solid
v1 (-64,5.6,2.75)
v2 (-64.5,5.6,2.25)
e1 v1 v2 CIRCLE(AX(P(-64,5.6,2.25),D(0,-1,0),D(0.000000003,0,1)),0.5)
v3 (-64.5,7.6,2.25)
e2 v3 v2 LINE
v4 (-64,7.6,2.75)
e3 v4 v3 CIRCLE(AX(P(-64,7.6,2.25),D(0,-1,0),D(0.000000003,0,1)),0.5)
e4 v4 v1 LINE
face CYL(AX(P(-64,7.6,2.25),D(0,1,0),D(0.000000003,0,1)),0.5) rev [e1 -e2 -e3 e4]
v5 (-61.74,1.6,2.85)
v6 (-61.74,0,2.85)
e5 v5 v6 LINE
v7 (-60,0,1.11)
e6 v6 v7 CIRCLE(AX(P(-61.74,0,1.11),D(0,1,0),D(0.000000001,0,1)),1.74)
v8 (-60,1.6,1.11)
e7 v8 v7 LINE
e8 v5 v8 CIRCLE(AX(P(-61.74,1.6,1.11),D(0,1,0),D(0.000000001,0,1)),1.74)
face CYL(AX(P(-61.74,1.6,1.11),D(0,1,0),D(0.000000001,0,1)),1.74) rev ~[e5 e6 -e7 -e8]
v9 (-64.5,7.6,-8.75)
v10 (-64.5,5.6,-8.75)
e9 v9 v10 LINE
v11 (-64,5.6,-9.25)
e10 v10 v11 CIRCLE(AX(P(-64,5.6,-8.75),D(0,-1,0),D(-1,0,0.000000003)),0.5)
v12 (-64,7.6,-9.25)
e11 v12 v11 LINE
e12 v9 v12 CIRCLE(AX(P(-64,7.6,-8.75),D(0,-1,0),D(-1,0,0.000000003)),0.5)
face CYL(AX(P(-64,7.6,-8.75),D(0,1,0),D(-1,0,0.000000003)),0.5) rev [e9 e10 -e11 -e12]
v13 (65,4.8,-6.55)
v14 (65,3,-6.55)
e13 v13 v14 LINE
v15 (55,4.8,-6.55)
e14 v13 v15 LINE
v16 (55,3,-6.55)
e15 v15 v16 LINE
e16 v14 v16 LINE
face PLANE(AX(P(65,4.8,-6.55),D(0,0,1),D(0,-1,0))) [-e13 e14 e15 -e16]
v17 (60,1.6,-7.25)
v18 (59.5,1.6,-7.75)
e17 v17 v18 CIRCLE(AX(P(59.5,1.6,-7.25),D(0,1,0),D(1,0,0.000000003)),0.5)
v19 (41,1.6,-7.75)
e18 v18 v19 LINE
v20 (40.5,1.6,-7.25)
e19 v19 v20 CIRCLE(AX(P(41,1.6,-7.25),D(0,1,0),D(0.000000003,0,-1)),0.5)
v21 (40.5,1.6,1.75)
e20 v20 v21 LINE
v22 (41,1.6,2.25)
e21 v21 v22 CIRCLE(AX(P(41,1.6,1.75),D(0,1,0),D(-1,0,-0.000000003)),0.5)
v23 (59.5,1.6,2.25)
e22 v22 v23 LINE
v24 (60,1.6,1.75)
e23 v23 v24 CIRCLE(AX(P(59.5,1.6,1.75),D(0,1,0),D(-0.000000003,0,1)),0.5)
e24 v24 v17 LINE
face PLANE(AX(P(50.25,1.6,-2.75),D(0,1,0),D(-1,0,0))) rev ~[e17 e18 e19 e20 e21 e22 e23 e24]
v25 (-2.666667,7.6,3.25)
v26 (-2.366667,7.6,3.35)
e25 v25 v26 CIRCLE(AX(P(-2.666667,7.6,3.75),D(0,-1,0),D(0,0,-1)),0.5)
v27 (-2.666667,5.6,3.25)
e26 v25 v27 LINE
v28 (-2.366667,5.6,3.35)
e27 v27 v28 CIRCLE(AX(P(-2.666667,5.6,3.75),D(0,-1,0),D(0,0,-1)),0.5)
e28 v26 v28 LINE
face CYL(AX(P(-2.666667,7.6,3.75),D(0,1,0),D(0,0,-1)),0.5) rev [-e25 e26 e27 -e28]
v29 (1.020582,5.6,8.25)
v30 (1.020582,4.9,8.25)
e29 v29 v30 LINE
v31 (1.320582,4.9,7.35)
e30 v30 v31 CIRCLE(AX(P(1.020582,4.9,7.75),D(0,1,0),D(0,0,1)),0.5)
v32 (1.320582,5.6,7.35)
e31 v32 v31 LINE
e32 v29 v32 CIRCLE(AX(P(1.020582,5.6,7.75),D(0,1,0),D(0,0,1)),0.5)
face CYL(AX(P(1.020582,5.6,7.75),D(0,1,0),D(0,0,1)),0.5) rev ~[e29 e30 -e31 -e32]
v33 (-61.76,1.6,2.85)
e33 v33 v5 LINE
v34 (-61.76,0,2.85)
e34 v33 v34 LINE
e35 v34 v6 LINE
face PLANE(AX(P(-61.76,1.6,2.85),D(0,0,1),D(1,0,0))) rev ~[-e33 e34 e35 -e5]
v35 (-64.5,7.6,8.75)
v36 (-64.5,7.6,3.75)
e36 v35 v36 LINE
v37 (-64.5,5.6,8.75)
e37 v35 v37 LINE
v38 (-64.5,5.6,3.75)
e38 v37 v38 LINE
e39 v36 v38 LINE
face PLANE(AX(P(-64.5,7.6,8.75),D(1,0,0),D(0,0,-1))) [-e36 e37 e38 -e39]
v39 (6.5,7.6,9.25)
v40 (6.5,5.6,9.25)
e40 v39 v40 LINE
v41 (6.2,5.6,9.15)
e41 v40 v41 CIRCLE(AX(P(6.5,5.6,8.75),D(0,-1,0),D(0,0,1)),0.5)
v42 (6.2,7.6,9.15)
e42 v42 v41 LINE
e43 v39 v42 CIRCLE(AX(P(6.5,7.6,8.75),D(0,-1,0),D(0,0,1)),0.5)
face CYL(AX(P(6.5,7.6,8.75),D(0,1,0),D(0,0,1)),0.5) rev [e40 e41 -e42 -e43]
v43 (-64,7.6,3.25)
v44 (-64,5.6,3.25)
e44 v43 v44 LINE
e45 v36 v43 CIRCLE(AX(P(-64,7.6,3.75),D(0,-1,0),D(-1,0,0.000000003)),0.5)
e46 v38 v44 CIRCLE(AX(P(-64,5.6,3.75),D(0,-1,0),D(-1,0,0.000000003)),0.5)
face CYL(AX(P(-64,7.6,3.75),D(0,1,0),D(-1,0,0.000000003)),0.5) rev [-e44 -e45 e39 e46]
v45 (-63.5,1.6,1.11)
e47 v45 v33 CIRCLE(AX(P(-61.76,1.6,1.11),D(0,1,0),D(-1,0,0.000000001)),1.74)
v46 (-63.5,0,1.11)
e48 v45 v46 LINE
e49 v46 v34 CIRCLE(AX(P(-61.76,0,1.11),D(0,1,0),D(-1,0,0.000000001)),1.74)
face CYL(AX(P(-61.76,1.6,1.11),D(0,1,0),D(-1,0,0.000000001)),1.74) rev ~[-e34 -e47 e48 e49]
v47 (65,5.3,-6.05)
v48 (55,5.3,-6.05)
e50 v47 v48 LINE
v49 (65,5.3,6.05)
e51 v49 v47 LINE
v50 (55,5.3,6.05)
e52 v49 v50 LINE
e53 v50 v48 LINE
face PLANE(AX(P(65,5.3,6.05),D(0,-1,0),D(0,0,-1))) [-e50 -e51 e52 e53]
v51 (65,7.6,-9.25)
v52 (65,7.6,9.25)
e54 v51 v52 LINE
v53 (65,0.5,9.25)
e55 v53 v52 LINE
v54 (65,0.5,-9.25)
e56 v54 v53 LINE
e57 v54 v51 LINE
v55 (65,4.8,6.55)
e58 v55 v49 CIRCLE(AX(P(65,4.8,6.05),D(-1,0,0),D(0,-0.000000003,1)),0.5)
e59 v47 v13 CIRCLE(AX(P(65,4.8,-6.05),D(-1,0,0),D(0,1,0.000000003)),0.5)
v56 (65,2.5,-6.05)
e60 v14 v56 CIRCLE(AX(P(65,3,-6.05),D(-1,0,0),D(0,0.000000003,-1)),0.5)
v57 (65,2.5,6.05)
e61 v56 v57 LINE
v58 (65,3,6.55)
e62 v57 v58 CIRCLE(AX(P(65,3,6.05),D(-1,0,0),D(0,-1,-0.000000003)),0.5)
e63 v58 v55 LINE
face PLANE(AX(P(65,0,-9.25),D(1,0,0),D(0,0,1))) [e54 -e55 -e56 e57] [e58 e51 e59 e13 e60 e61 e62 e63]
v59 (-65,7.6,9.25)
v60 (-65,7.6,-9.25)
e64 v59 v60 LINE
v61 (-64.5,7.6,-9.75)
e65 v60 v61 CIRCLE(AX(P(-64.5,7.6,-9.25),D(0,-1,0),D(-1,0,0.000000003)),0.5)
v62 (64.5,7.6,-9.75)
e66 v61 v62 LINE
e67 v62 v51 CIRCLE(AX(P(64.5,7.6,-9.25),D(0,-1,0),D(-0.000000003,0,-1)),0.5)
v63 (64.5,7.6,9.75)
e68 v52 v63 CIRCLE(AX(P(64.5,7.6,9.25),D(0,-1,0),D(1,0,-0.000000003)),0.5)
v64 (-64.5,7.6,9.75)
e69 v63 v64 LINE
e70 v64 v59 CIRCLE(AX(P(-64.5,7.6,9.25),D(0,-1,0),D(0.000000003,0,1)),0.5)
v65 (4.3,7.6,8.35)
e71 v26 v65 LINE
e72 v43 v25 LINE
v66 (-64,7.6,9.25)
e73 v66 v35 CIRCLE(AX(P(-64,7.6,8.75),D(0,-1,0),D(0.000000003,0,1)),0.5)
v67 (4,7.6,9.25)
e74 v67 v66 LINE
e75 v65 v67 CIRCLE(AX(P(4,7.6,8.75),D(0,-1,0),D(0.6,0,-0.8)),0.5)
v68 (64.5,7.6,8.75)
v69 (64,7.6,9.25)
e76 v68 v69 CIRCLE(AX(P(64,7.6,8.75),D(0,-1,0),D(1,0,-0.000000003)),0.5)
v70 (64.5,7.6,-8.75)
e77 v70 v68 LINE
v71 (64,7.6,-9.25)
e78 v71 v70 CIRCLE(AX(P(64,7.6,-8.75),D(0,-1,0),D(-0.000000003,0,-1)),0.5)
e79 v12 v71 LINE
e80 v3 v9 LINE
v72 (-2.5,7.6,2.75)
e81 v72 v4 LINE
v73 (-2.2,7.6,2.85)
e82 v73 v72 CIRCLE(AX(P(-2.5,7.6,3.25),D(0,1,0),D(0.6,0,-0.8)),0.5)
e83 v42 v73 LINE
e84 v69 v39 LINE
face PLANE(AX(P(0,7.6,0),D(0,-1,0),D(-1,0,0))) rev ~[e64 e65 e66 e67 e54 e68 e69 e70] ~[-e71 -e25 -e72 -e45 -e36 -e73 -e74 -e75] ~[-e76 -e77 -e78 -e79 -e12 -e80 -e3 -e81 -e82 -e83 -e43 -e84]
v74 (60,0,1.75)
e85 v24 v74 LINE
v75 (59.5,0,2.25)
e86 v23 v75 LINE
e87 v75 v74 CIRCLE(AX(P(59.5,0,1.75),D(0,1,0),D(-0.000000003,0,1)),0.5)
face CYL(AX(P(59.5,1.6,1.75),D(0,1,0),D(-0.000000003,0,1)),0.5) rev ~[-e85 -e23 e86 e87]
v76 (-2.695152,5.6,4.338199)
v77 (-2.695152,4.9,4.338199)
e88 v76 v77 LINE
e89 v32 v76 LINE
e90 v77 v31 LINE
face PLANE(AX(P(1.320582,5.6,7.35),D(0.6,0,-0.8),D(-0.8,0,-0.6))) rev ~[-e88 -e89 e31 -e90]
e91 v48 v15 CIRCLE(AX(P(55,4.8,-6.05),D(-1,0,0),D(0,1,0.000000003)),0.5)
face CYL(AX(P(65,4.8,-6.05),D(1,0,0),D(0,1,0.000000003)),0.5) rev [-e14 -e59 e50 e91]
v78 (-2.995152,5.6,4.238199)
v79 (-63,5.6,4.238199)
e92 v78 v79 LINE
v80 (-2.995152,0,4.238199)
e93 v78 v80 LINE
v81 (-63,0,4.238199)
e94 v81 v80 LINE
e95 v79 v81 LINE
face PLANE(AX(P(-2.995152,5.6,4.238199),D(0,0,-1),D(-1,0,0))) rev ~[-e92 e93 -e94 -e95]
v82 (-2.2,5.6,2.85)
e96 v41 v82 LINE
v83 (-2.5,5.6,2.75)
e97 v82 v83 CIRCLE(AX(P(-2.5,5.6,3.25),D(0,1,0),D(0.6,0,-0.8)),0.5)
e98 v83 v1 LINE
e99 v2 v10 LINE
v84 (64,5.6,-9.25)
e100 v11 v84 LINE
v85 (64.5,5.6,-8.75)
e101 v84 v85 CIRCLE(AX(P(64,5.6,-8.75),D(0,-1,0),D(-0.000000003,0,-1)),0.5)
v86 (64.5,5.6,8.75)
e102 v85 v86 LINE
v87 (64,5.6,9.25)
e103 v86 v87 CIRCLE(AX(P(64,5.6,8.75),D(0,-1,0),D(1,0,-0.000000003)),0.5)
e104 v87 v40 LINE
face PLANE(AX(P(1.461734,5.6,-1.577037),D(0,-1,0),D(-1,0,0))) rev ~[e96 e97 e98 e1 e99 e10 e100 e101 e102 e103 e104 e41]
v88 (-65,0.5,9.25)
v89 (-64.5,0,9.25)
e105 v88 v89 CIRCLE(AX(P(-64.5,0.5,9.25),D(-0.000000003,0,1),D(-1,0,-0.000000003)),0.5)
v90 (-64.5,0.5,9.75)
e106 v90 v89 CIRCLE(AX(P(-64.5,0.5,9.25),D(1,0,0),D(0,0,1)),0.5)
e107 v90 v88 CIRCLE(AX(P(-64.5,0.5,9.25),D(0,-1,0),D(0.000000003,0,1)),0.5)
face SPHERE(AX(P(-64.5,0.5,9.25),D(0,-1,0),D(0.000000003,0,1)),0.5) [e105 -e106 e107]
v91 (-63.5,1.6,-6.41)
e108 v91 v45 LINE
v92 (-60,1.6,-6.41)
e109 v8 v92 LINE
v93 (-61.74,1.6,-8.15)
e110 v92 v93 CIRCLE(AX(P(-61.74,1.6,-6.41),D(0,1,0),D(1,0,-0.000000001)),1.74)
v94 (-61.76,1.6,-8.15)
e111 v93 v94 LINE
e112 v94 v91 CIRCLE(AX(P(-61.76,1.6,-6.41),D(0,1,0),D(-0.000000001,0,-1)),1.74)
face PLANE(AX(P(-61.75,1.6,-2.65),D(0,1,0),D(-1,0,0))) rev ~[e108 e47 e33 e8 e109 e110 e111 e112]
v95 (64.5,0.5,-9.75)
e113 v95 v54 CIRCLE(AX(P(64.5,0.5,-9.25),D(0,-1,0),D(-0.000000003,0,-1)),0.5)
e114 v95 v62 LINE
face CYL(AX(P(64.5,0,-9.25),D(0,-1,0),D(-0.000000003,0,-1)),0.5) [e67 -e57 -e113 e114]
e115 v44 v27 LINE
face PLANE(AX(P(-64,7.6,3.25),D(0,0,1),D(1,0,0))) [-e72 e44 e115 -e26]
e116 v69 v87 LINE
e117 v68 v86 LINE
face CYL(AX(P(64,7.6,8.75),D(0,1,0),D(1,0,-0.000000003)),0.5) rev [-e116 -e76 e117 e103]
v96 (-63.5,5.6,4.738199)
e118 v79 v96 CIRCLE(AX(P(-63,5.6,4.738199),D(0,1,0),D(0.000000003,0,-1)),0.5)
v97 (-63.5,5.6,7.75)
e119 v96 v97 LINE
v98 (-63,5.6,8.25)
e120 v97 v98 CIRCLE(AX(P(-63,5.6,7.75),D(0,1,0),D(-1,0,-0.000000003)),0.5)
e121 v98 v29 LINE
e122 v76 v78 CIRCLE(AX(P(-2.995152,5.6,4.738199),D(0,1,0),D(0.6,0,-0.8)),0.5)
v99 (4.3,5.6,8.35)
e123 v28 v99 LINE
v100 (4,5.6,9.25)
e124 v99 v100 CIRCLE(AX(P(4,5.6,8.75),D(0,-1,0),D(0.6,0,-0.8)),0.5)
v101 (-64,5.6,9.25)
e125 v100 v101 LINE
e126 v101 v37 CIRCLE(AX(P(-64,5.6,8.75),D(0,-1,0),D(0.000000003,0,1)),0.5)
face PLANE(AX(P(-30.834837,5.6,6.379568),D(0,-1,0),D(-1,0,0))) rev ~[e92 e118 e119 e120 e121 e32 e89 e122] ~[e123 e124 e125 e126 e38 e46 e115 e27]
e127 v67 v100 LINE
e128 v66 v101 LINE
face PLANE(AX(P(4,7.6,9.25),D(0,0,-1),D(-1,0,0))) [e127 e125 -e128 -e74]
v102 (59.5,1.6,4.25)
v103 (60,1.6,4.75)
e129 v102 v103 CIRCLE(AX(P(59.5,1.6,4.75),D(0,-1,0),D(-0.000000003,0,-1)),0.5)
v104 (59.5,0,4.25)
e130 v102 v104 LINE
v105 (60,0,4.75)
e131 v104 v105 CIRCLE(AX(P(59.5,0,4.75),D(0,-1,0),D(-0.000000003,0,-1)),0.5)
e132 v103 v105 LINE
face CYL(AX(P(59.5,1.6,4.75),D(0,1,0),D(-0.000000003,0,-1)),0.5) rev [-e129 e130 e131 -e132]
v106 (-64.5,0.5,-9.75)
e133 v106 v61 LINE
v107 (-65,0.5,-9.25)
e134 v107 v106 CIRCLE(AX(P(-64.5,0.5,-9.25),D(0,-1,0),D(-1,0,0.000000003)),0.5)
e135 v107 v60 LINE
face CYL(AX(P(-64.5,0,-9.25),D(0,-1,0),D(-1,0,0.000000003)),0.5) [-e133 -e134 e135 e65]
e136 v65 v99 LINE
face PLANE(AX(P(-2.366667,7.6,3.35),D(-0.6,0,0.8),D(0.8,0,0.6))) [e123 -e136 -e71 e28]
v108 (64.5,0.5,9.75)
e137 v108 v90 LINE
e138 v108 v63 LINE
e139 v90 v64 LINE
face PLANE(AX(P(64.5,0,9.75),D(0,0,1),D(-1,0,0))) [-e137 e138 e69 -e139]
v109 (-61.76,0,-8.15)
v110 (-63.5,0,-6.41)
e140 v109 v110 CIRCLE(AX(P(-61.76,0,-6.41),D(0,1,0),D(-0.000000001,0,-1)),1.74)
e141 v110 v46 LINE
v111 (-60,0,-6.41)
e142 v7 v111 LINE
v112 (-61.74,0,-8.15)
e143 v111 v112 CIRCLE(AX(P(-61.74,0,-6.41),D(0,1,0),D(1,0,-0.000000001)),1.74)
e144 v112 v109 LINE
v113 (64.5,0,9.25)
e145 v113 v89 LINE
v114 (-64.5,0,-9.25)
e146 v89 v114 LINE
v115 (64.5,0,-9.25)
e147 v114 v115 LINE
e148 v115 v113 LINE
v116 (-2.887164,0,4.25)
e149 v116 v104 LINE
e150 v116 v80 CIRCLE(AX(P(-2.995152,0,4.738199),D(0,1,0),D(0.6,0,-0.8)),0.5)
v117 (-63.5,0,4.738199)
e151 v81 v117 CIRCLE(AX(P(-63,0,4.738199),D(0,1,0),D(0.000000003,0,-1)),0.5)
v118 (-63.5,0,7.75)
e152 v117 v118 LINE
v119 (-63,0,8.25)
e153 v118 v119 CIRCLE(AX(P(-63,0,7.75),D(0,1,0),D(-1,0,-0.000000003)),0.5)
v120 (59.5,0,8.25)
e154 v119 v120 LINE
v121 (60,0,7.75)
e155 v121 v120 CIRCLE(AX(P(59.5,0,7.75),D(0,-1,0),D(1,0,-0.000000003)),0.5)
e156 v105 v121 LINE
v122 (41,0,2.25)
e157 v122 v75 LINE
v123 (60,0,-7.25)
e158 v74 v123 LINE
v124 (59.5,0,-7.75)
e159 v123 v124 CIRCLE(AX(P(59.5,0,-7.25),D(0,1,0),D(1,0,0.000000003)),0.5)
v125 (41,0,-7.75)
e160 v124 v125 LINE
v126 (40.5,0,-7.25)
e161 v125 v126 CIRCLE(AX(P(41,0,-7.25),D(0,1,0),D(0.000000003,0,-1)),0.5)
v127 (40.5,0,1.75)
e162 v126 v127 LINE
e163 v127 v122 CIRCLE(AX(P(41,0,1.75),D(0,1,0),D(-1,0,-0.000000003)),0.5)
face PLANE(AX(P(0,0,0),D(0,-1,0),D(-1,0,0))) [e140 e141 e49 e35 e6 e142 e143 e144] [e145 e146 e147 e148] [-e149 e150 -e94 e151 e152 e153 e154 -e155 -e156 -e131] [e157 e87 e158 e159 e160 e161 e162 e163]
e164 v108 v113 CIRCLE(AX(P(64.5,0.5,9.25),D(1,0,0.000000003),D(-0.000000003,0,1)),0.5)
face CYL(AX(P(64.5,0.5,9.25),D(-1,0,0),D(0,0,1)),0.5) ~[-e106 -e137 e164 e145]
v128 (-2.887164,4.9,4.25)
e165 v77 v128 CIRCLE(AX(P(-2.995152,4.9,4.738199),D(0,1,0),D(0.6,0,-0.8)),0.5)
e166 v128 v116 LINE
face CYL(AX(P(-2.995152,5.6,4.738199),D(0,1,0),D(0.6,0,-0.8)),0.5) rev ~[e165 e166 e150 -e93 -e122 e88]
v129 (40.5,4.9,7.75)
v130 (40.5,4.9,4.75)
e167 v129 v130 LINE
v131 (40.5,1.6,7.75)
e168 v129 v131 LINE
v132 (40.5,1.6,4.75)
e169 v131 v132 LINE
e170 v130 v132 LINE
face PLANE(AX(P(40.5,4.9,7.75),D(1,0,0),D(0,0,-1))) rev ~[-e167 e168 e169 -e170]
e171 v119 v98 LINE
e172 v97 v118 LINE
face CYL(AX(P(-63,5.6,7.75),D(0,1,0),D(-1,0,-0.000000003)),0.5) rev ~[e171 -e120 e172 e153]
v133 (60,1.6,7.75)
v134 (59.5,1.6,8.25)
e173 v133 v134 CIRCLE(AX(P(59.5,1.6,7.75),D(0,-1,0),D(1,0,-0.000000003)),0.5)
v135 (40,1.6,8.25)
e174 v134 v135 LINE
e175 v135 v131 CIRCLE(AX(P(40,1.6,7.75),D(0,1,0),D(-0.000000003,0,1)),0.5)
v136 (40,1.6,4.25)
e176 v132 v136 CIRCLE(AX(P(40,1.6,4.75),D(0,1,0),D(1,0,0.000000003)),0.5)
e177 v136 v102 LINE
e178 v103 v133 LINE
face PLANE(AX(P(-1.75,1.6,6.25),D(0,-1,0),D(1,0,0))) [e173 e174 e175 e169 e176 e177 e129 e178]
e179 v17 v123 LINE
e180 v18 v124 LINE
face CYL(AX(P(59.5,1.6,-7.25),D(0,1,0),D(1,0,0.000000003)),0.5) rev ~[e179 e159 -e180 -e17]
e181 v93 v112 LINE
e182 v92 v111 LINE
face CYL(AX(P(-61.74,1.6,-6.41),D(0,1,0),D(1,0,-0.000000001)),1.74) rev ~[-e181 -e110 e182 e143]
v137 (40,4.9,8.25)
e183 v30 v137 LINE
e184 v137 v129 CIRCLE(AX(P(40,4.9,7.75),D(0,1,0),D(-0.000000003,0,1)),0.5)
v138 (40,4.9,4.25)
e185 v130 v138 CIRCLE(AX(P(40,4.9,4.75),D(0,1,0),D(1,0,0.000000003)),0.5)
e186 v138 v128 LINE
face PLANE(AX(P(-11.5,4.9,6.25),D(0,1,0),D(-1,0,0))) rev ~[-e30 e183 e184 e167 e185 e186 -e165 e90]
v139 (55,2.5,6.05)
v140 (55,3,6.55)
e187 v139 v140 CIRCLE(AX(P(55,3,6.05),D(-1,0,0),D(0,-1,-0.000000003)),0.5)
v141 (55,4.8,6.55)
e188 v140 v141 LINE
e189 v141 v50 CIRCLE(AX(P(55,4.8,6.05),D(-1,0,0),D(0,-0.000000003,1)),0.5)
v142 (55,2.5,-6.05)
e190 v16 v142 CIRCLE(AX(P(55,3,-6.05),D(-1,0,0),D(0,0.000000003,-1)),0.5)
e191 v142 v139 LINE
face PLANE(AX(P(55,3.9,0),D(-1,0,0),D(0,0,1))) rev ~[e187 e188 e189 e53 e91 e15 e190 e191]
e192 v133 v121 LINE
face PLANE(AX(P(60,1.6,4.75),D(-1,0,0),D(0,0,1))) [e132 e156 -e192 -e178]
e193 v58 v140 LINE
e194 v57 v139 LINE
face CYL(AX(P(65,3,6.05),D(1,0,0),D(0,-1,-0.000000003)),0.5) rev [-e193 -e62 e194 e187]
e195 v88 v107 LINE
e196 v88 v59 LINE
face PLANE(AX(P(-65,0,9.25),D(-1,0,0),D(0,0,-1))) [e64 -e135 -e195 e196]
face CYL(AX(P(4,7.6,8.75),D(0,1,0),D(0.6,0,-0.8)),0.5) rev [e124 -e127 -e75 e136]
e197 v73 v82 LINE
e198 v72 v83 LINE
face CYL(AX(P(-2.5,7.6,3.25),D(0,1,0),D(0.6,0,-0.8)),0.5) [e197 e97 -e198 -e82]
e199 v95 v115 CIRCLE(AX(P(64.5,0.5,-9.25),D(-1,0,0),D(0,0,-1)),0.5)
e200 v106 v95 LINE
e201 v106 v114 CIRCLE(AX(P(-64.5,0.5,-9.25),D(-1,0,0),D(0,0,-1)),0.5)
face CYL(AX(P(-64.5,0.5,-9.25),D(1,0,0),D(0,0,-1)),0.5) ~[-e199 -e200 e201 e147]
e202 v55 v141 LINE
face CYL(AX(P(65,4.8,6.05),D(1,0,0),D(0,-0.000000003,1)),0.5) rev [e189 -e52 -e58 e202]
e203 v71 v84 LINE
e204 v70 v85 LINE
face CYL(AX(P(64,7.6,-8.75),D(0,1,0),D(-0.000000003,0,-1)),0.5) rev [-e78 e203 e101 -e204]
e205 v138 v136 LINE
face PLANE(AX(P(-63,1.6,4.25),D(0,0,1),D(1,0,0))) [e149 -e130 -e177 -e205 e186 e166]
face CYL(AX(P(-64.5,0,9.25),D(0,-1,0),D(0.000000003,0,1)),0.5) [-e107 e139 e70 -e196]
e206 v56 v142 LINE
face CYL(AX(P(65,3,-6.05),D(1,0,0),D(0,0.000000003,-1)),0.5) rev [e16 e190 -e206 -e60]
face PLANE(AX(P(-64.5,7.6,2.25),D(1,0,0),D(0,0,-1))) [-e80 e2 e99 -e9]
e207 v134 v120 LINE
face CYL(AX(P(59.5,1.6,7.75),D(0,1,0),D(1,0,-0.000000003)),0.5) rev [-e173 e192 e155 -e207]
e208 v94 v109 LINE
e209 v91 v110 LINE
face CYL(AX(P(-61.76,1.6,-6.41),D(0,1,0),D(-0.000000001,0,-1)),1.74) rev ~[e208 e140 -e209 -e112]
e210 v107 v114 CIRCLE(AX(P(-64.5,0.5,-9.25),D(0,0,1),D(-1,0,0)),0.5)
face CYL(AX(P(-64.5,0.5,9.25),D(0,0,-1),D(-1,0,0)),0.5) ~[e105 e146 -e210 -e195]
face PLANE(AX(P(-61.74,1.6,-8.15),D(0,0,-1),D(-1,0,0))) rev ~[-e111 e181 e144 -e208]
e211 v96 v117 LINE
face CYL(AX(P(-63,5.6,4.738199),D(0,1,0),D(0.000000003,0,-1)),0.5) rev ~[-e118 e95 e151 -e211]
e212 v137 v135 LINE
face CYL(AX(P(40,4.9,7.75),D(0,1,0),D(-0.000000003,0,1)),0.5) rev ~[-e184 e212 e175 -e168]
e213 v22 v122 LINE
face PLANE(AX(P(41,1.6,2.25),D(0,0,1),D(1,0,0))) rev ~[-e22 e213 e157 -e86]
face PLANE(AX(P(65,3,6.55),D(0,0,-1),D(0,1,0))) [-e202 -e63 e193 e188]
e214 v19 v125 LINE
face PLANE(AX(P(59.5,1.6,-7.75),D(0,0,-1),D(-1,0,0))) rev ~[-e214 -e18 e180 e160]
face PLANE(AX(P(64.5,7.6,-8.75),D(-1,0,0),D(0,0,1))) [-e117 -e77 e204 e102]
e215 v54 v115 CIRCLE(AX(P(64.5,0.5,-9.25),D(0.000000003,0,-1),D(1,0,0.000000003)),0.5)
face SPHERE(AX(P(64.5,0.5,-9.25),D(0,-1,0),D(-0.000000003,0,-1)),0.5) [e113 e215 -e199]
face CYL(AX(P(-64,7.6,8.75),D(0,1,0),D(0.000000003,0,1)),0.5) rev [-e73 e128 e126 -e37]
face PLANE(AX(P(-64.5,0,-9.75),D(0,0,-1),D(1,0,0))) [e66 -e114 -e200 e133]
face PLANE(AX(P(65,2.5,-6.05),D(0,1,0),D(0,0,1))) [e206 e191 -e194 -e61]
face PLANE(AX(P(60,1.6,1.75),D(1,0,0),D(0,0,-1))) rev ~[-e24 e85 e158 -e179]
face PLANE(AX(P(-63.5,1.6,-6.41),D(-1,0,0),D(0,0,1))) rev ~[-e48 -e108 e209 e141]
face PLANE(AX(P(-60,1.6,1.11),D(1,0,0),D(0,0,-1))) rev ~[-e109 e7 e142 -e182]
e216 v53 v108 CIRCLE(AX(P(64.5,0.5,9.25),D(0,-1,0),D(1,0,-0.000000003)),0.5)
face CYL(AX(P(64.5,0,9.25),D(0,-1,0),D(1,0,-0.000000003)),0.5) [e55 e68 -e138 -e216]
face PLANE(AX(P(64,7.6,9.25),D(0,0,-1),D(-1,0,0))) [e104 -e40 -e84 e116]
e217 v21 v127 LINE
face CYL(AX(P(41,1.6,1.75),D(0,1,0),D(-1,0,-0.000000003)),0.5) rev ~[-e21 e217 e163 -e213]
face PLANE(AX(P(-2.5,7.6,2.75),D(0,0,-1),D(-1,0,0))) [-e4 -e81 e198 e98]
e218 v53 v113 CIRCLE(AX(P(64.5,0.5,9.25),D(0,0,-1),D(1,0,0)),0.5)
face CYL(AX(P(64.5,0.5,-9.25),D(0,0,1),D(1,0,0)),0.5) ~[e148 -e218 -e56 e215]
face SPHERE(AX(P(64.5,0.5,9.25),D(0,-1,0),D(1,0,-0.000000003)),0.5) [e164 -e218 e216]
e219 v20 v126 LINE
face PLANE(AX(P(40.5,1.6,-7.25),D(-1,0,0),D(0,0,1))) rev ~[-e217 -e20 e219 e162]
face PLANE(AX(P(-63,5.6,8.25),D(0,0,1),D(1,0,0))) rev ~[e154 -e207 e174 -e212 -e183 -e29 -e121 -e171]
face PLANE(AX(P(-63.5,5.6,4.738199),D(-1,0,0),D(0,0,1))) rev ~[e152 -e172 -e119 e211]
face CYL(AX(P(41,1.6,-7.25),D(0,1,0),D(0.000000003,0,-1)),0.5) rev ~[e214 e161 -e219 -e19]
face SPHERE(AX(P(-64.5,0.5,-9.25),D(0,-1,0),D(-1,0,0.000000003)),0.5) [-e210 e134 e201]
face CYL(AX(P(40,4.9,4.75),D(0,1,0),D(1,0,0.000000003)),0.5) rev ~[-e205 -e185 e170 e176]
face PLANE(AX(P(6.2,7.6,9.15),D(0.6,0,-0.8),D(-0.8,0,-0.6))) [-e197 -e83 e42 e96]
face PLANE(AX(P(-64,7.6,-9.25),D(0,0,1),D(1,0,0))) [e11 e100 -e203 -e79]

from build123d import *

# Parameters (mm, degrees)
EXTRUDE_1_DEPTH     = 7.6
CUT_EXTRUDE_1_DEPTH = 2
CUT_EXTRUDE_2_DEPTH = 66.965312855
CUT_EXTRUDE_START   = -1.6
CUT_EXTRUDE_3_DEPTH = 1.6
CUT_EXTRUDE_START_2 = -3.3
CUT_EXTRUDE_4_DEPTH = 3.3
CUT_EXTRUDE_5_DEPTH = 10
FILLET_1_R          = 0.5


with BuildPart() as part:
    # Эскиз1 → Бобышка-Вытянуть1 (new body)
    with BuildSketch(Plane(origin=(0, 0, 0), x_dir=(1, 0, 0), z_dir=(0, 1, 0))):
        with BuildLine():
            Line((-64.5, 9.75), (64.5, 9.75))
            ThreePointArc((64.5, 9.75), (64.853553391, 9.603553391), (65, 9.25))
            Line((65, 9.25), (65, -9.25))
            ThreePointArc((65, -9.25), (64.853553391, -9.603553391), (64.5, -9.75))
            Line((64.5, -9.75), (-64.5, -9.75))
            ThreePointArc((-64.5, -9.75), (-64.853553391, -9.603553391), (-65, -9.25))
            Line((-65, -9.25), (-65, 9.25))
            ThreePointArc((-65, 9.25), (-64.853553391, 9.603553391), (-64.5, 9.75))
        make_face()
    extrude(amount=EXTRUDE_1_DEPTH)

    # Эскиз2 → Вырез-Вытянуть1 (cut)
    with BuildSketch(Plane(origin=(0, 7.6, 0), x_dir=(1, 0, 0), z_dir=(0, 1, 0))):
        with BuildLine():
            Line((-64, -3.25), (-2.666666667, -3.25))
            ThreePointArc((-2.666666667, -3.25), (-2.508552784, -3.275658351), (-2.366666667, -3.35))
            Line((-2.366666667, -3.35), (4.3, -8.35))
            ThreePointArc((4.3, -8.35), (4.474341649, -8.908113883), (4, -9.25))
            Line((4, -9.25), (-64, -9.25))
            ThreePointArc((-64, -9.25), (-64.353553391, -9.103553391), (-64.5, -8.75))
            Line((-64.5, -8.75), (-64.5, -3.75))
            ThreePointArc((-64.5, -3.75), (-64.353553391, -3.396446609), (-64, -3.25))
        make_face()
        with BuildLine():
            Line((-64, 9.25), (64, 9.25))
            ThreePointArc((64, 9.25), (64.353553391, 9.103553391), (64.5, 8.75))
            Line((64.5, 8.75), (64.5, -8.75))
            ThreePointArc((64.5, -8.75), (64.353553391, -9.103553391), (64, -9.25))
            Line((64, -9.25), (6.5, -9.25))
            ThreePointArc((6.5, -9.25), (6.341886117, -9.224341649), (6.2, -9.15))
            Line((6.2, -9.15), (-2.2, -2.85))
            ThreePointArc((-2.2, -2.85), (-2.341886117, -2.775658351), (-2.5, -2.75))
            Line((-2.5, -2.75), (-64, -2.75))
            ThreePointArc((-64, -2.75), (-64.353553391, -2.603553391), (-64.5, -2.25))
            Line((-64.5, -2.25), (-64.5, 8.75))
            ThreePointArc((-64.5, 8.75), (-64.353553391, 9.103553391), (-64, 9.25))
        make_face()
    extrude(amount=-CUT_EXTRUDE_1_DEPTH, mode=Mode.SUBTRACT)

    # Эскиз6 → Вырез-Вытянуть2 (cut, through all)
    with BuildSketch(Plane(origin=(0, 5.6, 0), x_dir=(1, 0, 0), z_dir=(0, 1, 0))):
        with BuildLine():
            Line((-63, -8.25), (1.020582083, -8.25))
            ThreePointArc((1.020582083, -8.25), (1.494923732, -7.908113883), (1.320582083, -7.35))
            Line((1.320582083, -7.35), (-2.695152274, -4.338199232))
            ThreePointArc((-2.695152274, -4.338199232), (-2.837038391, -4.263857583), (-2.995152274, -4.238199232))
            Line((-2.995152274, -4.238199232), (-63, -4.238199232))
            ThreePointArc((-63, -4.238199232), (-63.353553391, -4.384645841), (-63.5, -4.738199232))
            Line((-63.5, -4.738199232), (-63.5, -7.75))
            ThreePointArc((-63.5, -7.75), (-63.353553391, -8.103553391), (-63, -8.25))
        make_face()
    extrude(amount=-CUT_EXTRUDE_2_DEPTH, mode=Mode.SUBTRACT)

    # Эскиз7 → Вырез-Вытянуть3 (cut)
    with BuildSketch(Plane.XZ.offset(CUT_EXTRUDE_START)):
        with BuildLine():
            Line((-63, 4.25), (59.5, 4.25))
            ThreePointArc((59.5, 4.25), (59.853553391, 4.396446609), (60, 4.75))
            Line((60, 4.75), (60, 7.75))
            ThreePointArc((60, 7.75), (59.853553391, 8.103553391), (59.5, 8.25))
            Line((59.5, 8.25), (-63, 8.25))
            ThreePointArc((-63, 8.25), (-63.353553391, 8.103553391), (-63.5, 7.75))
            Line((-63.5, 7.75), (-63.5, 4.75))
            ThreePointArc((-63.5, 4.75), (-63.353553391, 4.396446609), (-63, 4.25))
        make_face()
        with BuildLine():
            Line((59.5, -7.75), (41, -7.75))
            ThreePointArc((41, -7.75), (40.646446609, -7.603553391), (40.5, -7.25))
            Line((40.5, -7.25), (40.5, 1.75))
            ThreePointArc((40.5, 1.75), (40.646446609, 2.103553391), (41, 2.25))
            Line((41, 2.25), (59.5, 2.25))
            ThreePointArc((59.5, 2.25), (59.853553391, 2.103553391), (60, 1.75))
            Line((60, 1.75), (60, -7.25))
            ThreePointArc((60, -7.25), (59.853553391, -7.603553391), (59.5, -7.75))
        make_face()
        with BuildLine():
            Line((-61.74, -8.15), (-61.76, -8.15))
            ThreePointArc((-61.76, -8.15), (-62.990365799, -7.640365799), (-63.5, -6.41))
            Line((-63.5, -6.41), (-63.5, 1.11))
            ThreePointArc((-63.5, 1.11), (-62.990365799, 2.340365799), (-61.76, 2.85))
            Line((-61.76, 2.85), (-61.74, 2.85))
            ThreePointArc((-61.74, 2.85), (-60.509634201, 2.340365799), (-60, 1.11))
            Line((-60, 1.11), (-60, -6.41))
            ThreePointArc((-60, -6.41), (-60.509634201, -7.640365799), (-61.74, -8.15))
        make_face()
    extrude(amount=CUT_EXTRUDE_3_DEPTH, mode=Mode.SUBTRACT)

    # Эскиз8 → Вырез-Вытянуть4 (cut)
    with BuildSketch(Plane.XZ.offset(-1.6).offset(CUT_EXTRUDE_START_2)):
        with BuildLine():
            Line((-63, 8.25), (40, 8.25))
            ThreePointArc((40, 8.25), (40.353553391, 8.103553391), (40.5, 7.75))
            Line((40.5, 7.75), (40.5, 4.75))
            ThreePointArc((40.5, 4.75), (40.353553391, 4.396446609), (40, 4.25))
            Line((40, 4.25), (-63, 4.25))
            ThreePointArc((-63, 4.25), (-63.353553391, 4.396446609), (-63.5, 4.75))
            Line((-63.5, 4.75), (-63.5, 7.75))
            ThreePointArc((-63.5, 7.75), (-63.353553391, 8.103553391), (-63, 8.25))
        make_face()
    extrude(amount=CUT_EXTRUDE_4_DEPTH, mode=Mode.SUBTRACT)

    # Эскиз9 → Вырез-Вытянуть5 (cut)
    with BuildSketch(Plane(origin=(65, 0, 0), x_dir=(0, 0, -1), z_dir=(1, 0, 0))):
        with BuildLine():
            Line((-6.05, 5.3), (6.05, 5.3))
            ThreePointArc((6.05, 5.3), (6.403553391, 5.153553391), (6.55, 4.8))
            Line((6.55, 4.8), (6.55, 3))
            ThreePointArc((6.55, 3), (6.403553391, 2.646446609), (6.05, 2.5))
            Line((6.05, 2.5), (-6.05, 2.5))
            ThreePointArc((-6.05, 2.5), (-6.403553391, 2.646446609), (-6.55, 3))
            Line((-6.55, 3), (-6.55, 4.8))
            ThreePointArc((-6.55, 4.8), (-6.403553391, 5.153553391), (-6.05, 5.3))
        make_face()
    extrude(amount=-CUT_EXTRUDE_5_DEPTH, mode=Mode.SUBTRACT)

    # Скругление1
    fillet_1_edges = [part.edges().sort_by_distance(p)[0] for p in [
        (0, 0, -9.75),
        (64.853553391, 0, -9.603553391),
        (65, 0, 0),
        (64.853553391, 0, 9.603553391),
        (0, 0, 9.75),
        (-64.853553391, 0, 9.603553391),
        (-65, 0, 0),
        (-64.853553391, 0, -9.603553391),
    ]]
    fillet(fillet_1_edges, radius=FILLET_1_R)


solid = part.part
